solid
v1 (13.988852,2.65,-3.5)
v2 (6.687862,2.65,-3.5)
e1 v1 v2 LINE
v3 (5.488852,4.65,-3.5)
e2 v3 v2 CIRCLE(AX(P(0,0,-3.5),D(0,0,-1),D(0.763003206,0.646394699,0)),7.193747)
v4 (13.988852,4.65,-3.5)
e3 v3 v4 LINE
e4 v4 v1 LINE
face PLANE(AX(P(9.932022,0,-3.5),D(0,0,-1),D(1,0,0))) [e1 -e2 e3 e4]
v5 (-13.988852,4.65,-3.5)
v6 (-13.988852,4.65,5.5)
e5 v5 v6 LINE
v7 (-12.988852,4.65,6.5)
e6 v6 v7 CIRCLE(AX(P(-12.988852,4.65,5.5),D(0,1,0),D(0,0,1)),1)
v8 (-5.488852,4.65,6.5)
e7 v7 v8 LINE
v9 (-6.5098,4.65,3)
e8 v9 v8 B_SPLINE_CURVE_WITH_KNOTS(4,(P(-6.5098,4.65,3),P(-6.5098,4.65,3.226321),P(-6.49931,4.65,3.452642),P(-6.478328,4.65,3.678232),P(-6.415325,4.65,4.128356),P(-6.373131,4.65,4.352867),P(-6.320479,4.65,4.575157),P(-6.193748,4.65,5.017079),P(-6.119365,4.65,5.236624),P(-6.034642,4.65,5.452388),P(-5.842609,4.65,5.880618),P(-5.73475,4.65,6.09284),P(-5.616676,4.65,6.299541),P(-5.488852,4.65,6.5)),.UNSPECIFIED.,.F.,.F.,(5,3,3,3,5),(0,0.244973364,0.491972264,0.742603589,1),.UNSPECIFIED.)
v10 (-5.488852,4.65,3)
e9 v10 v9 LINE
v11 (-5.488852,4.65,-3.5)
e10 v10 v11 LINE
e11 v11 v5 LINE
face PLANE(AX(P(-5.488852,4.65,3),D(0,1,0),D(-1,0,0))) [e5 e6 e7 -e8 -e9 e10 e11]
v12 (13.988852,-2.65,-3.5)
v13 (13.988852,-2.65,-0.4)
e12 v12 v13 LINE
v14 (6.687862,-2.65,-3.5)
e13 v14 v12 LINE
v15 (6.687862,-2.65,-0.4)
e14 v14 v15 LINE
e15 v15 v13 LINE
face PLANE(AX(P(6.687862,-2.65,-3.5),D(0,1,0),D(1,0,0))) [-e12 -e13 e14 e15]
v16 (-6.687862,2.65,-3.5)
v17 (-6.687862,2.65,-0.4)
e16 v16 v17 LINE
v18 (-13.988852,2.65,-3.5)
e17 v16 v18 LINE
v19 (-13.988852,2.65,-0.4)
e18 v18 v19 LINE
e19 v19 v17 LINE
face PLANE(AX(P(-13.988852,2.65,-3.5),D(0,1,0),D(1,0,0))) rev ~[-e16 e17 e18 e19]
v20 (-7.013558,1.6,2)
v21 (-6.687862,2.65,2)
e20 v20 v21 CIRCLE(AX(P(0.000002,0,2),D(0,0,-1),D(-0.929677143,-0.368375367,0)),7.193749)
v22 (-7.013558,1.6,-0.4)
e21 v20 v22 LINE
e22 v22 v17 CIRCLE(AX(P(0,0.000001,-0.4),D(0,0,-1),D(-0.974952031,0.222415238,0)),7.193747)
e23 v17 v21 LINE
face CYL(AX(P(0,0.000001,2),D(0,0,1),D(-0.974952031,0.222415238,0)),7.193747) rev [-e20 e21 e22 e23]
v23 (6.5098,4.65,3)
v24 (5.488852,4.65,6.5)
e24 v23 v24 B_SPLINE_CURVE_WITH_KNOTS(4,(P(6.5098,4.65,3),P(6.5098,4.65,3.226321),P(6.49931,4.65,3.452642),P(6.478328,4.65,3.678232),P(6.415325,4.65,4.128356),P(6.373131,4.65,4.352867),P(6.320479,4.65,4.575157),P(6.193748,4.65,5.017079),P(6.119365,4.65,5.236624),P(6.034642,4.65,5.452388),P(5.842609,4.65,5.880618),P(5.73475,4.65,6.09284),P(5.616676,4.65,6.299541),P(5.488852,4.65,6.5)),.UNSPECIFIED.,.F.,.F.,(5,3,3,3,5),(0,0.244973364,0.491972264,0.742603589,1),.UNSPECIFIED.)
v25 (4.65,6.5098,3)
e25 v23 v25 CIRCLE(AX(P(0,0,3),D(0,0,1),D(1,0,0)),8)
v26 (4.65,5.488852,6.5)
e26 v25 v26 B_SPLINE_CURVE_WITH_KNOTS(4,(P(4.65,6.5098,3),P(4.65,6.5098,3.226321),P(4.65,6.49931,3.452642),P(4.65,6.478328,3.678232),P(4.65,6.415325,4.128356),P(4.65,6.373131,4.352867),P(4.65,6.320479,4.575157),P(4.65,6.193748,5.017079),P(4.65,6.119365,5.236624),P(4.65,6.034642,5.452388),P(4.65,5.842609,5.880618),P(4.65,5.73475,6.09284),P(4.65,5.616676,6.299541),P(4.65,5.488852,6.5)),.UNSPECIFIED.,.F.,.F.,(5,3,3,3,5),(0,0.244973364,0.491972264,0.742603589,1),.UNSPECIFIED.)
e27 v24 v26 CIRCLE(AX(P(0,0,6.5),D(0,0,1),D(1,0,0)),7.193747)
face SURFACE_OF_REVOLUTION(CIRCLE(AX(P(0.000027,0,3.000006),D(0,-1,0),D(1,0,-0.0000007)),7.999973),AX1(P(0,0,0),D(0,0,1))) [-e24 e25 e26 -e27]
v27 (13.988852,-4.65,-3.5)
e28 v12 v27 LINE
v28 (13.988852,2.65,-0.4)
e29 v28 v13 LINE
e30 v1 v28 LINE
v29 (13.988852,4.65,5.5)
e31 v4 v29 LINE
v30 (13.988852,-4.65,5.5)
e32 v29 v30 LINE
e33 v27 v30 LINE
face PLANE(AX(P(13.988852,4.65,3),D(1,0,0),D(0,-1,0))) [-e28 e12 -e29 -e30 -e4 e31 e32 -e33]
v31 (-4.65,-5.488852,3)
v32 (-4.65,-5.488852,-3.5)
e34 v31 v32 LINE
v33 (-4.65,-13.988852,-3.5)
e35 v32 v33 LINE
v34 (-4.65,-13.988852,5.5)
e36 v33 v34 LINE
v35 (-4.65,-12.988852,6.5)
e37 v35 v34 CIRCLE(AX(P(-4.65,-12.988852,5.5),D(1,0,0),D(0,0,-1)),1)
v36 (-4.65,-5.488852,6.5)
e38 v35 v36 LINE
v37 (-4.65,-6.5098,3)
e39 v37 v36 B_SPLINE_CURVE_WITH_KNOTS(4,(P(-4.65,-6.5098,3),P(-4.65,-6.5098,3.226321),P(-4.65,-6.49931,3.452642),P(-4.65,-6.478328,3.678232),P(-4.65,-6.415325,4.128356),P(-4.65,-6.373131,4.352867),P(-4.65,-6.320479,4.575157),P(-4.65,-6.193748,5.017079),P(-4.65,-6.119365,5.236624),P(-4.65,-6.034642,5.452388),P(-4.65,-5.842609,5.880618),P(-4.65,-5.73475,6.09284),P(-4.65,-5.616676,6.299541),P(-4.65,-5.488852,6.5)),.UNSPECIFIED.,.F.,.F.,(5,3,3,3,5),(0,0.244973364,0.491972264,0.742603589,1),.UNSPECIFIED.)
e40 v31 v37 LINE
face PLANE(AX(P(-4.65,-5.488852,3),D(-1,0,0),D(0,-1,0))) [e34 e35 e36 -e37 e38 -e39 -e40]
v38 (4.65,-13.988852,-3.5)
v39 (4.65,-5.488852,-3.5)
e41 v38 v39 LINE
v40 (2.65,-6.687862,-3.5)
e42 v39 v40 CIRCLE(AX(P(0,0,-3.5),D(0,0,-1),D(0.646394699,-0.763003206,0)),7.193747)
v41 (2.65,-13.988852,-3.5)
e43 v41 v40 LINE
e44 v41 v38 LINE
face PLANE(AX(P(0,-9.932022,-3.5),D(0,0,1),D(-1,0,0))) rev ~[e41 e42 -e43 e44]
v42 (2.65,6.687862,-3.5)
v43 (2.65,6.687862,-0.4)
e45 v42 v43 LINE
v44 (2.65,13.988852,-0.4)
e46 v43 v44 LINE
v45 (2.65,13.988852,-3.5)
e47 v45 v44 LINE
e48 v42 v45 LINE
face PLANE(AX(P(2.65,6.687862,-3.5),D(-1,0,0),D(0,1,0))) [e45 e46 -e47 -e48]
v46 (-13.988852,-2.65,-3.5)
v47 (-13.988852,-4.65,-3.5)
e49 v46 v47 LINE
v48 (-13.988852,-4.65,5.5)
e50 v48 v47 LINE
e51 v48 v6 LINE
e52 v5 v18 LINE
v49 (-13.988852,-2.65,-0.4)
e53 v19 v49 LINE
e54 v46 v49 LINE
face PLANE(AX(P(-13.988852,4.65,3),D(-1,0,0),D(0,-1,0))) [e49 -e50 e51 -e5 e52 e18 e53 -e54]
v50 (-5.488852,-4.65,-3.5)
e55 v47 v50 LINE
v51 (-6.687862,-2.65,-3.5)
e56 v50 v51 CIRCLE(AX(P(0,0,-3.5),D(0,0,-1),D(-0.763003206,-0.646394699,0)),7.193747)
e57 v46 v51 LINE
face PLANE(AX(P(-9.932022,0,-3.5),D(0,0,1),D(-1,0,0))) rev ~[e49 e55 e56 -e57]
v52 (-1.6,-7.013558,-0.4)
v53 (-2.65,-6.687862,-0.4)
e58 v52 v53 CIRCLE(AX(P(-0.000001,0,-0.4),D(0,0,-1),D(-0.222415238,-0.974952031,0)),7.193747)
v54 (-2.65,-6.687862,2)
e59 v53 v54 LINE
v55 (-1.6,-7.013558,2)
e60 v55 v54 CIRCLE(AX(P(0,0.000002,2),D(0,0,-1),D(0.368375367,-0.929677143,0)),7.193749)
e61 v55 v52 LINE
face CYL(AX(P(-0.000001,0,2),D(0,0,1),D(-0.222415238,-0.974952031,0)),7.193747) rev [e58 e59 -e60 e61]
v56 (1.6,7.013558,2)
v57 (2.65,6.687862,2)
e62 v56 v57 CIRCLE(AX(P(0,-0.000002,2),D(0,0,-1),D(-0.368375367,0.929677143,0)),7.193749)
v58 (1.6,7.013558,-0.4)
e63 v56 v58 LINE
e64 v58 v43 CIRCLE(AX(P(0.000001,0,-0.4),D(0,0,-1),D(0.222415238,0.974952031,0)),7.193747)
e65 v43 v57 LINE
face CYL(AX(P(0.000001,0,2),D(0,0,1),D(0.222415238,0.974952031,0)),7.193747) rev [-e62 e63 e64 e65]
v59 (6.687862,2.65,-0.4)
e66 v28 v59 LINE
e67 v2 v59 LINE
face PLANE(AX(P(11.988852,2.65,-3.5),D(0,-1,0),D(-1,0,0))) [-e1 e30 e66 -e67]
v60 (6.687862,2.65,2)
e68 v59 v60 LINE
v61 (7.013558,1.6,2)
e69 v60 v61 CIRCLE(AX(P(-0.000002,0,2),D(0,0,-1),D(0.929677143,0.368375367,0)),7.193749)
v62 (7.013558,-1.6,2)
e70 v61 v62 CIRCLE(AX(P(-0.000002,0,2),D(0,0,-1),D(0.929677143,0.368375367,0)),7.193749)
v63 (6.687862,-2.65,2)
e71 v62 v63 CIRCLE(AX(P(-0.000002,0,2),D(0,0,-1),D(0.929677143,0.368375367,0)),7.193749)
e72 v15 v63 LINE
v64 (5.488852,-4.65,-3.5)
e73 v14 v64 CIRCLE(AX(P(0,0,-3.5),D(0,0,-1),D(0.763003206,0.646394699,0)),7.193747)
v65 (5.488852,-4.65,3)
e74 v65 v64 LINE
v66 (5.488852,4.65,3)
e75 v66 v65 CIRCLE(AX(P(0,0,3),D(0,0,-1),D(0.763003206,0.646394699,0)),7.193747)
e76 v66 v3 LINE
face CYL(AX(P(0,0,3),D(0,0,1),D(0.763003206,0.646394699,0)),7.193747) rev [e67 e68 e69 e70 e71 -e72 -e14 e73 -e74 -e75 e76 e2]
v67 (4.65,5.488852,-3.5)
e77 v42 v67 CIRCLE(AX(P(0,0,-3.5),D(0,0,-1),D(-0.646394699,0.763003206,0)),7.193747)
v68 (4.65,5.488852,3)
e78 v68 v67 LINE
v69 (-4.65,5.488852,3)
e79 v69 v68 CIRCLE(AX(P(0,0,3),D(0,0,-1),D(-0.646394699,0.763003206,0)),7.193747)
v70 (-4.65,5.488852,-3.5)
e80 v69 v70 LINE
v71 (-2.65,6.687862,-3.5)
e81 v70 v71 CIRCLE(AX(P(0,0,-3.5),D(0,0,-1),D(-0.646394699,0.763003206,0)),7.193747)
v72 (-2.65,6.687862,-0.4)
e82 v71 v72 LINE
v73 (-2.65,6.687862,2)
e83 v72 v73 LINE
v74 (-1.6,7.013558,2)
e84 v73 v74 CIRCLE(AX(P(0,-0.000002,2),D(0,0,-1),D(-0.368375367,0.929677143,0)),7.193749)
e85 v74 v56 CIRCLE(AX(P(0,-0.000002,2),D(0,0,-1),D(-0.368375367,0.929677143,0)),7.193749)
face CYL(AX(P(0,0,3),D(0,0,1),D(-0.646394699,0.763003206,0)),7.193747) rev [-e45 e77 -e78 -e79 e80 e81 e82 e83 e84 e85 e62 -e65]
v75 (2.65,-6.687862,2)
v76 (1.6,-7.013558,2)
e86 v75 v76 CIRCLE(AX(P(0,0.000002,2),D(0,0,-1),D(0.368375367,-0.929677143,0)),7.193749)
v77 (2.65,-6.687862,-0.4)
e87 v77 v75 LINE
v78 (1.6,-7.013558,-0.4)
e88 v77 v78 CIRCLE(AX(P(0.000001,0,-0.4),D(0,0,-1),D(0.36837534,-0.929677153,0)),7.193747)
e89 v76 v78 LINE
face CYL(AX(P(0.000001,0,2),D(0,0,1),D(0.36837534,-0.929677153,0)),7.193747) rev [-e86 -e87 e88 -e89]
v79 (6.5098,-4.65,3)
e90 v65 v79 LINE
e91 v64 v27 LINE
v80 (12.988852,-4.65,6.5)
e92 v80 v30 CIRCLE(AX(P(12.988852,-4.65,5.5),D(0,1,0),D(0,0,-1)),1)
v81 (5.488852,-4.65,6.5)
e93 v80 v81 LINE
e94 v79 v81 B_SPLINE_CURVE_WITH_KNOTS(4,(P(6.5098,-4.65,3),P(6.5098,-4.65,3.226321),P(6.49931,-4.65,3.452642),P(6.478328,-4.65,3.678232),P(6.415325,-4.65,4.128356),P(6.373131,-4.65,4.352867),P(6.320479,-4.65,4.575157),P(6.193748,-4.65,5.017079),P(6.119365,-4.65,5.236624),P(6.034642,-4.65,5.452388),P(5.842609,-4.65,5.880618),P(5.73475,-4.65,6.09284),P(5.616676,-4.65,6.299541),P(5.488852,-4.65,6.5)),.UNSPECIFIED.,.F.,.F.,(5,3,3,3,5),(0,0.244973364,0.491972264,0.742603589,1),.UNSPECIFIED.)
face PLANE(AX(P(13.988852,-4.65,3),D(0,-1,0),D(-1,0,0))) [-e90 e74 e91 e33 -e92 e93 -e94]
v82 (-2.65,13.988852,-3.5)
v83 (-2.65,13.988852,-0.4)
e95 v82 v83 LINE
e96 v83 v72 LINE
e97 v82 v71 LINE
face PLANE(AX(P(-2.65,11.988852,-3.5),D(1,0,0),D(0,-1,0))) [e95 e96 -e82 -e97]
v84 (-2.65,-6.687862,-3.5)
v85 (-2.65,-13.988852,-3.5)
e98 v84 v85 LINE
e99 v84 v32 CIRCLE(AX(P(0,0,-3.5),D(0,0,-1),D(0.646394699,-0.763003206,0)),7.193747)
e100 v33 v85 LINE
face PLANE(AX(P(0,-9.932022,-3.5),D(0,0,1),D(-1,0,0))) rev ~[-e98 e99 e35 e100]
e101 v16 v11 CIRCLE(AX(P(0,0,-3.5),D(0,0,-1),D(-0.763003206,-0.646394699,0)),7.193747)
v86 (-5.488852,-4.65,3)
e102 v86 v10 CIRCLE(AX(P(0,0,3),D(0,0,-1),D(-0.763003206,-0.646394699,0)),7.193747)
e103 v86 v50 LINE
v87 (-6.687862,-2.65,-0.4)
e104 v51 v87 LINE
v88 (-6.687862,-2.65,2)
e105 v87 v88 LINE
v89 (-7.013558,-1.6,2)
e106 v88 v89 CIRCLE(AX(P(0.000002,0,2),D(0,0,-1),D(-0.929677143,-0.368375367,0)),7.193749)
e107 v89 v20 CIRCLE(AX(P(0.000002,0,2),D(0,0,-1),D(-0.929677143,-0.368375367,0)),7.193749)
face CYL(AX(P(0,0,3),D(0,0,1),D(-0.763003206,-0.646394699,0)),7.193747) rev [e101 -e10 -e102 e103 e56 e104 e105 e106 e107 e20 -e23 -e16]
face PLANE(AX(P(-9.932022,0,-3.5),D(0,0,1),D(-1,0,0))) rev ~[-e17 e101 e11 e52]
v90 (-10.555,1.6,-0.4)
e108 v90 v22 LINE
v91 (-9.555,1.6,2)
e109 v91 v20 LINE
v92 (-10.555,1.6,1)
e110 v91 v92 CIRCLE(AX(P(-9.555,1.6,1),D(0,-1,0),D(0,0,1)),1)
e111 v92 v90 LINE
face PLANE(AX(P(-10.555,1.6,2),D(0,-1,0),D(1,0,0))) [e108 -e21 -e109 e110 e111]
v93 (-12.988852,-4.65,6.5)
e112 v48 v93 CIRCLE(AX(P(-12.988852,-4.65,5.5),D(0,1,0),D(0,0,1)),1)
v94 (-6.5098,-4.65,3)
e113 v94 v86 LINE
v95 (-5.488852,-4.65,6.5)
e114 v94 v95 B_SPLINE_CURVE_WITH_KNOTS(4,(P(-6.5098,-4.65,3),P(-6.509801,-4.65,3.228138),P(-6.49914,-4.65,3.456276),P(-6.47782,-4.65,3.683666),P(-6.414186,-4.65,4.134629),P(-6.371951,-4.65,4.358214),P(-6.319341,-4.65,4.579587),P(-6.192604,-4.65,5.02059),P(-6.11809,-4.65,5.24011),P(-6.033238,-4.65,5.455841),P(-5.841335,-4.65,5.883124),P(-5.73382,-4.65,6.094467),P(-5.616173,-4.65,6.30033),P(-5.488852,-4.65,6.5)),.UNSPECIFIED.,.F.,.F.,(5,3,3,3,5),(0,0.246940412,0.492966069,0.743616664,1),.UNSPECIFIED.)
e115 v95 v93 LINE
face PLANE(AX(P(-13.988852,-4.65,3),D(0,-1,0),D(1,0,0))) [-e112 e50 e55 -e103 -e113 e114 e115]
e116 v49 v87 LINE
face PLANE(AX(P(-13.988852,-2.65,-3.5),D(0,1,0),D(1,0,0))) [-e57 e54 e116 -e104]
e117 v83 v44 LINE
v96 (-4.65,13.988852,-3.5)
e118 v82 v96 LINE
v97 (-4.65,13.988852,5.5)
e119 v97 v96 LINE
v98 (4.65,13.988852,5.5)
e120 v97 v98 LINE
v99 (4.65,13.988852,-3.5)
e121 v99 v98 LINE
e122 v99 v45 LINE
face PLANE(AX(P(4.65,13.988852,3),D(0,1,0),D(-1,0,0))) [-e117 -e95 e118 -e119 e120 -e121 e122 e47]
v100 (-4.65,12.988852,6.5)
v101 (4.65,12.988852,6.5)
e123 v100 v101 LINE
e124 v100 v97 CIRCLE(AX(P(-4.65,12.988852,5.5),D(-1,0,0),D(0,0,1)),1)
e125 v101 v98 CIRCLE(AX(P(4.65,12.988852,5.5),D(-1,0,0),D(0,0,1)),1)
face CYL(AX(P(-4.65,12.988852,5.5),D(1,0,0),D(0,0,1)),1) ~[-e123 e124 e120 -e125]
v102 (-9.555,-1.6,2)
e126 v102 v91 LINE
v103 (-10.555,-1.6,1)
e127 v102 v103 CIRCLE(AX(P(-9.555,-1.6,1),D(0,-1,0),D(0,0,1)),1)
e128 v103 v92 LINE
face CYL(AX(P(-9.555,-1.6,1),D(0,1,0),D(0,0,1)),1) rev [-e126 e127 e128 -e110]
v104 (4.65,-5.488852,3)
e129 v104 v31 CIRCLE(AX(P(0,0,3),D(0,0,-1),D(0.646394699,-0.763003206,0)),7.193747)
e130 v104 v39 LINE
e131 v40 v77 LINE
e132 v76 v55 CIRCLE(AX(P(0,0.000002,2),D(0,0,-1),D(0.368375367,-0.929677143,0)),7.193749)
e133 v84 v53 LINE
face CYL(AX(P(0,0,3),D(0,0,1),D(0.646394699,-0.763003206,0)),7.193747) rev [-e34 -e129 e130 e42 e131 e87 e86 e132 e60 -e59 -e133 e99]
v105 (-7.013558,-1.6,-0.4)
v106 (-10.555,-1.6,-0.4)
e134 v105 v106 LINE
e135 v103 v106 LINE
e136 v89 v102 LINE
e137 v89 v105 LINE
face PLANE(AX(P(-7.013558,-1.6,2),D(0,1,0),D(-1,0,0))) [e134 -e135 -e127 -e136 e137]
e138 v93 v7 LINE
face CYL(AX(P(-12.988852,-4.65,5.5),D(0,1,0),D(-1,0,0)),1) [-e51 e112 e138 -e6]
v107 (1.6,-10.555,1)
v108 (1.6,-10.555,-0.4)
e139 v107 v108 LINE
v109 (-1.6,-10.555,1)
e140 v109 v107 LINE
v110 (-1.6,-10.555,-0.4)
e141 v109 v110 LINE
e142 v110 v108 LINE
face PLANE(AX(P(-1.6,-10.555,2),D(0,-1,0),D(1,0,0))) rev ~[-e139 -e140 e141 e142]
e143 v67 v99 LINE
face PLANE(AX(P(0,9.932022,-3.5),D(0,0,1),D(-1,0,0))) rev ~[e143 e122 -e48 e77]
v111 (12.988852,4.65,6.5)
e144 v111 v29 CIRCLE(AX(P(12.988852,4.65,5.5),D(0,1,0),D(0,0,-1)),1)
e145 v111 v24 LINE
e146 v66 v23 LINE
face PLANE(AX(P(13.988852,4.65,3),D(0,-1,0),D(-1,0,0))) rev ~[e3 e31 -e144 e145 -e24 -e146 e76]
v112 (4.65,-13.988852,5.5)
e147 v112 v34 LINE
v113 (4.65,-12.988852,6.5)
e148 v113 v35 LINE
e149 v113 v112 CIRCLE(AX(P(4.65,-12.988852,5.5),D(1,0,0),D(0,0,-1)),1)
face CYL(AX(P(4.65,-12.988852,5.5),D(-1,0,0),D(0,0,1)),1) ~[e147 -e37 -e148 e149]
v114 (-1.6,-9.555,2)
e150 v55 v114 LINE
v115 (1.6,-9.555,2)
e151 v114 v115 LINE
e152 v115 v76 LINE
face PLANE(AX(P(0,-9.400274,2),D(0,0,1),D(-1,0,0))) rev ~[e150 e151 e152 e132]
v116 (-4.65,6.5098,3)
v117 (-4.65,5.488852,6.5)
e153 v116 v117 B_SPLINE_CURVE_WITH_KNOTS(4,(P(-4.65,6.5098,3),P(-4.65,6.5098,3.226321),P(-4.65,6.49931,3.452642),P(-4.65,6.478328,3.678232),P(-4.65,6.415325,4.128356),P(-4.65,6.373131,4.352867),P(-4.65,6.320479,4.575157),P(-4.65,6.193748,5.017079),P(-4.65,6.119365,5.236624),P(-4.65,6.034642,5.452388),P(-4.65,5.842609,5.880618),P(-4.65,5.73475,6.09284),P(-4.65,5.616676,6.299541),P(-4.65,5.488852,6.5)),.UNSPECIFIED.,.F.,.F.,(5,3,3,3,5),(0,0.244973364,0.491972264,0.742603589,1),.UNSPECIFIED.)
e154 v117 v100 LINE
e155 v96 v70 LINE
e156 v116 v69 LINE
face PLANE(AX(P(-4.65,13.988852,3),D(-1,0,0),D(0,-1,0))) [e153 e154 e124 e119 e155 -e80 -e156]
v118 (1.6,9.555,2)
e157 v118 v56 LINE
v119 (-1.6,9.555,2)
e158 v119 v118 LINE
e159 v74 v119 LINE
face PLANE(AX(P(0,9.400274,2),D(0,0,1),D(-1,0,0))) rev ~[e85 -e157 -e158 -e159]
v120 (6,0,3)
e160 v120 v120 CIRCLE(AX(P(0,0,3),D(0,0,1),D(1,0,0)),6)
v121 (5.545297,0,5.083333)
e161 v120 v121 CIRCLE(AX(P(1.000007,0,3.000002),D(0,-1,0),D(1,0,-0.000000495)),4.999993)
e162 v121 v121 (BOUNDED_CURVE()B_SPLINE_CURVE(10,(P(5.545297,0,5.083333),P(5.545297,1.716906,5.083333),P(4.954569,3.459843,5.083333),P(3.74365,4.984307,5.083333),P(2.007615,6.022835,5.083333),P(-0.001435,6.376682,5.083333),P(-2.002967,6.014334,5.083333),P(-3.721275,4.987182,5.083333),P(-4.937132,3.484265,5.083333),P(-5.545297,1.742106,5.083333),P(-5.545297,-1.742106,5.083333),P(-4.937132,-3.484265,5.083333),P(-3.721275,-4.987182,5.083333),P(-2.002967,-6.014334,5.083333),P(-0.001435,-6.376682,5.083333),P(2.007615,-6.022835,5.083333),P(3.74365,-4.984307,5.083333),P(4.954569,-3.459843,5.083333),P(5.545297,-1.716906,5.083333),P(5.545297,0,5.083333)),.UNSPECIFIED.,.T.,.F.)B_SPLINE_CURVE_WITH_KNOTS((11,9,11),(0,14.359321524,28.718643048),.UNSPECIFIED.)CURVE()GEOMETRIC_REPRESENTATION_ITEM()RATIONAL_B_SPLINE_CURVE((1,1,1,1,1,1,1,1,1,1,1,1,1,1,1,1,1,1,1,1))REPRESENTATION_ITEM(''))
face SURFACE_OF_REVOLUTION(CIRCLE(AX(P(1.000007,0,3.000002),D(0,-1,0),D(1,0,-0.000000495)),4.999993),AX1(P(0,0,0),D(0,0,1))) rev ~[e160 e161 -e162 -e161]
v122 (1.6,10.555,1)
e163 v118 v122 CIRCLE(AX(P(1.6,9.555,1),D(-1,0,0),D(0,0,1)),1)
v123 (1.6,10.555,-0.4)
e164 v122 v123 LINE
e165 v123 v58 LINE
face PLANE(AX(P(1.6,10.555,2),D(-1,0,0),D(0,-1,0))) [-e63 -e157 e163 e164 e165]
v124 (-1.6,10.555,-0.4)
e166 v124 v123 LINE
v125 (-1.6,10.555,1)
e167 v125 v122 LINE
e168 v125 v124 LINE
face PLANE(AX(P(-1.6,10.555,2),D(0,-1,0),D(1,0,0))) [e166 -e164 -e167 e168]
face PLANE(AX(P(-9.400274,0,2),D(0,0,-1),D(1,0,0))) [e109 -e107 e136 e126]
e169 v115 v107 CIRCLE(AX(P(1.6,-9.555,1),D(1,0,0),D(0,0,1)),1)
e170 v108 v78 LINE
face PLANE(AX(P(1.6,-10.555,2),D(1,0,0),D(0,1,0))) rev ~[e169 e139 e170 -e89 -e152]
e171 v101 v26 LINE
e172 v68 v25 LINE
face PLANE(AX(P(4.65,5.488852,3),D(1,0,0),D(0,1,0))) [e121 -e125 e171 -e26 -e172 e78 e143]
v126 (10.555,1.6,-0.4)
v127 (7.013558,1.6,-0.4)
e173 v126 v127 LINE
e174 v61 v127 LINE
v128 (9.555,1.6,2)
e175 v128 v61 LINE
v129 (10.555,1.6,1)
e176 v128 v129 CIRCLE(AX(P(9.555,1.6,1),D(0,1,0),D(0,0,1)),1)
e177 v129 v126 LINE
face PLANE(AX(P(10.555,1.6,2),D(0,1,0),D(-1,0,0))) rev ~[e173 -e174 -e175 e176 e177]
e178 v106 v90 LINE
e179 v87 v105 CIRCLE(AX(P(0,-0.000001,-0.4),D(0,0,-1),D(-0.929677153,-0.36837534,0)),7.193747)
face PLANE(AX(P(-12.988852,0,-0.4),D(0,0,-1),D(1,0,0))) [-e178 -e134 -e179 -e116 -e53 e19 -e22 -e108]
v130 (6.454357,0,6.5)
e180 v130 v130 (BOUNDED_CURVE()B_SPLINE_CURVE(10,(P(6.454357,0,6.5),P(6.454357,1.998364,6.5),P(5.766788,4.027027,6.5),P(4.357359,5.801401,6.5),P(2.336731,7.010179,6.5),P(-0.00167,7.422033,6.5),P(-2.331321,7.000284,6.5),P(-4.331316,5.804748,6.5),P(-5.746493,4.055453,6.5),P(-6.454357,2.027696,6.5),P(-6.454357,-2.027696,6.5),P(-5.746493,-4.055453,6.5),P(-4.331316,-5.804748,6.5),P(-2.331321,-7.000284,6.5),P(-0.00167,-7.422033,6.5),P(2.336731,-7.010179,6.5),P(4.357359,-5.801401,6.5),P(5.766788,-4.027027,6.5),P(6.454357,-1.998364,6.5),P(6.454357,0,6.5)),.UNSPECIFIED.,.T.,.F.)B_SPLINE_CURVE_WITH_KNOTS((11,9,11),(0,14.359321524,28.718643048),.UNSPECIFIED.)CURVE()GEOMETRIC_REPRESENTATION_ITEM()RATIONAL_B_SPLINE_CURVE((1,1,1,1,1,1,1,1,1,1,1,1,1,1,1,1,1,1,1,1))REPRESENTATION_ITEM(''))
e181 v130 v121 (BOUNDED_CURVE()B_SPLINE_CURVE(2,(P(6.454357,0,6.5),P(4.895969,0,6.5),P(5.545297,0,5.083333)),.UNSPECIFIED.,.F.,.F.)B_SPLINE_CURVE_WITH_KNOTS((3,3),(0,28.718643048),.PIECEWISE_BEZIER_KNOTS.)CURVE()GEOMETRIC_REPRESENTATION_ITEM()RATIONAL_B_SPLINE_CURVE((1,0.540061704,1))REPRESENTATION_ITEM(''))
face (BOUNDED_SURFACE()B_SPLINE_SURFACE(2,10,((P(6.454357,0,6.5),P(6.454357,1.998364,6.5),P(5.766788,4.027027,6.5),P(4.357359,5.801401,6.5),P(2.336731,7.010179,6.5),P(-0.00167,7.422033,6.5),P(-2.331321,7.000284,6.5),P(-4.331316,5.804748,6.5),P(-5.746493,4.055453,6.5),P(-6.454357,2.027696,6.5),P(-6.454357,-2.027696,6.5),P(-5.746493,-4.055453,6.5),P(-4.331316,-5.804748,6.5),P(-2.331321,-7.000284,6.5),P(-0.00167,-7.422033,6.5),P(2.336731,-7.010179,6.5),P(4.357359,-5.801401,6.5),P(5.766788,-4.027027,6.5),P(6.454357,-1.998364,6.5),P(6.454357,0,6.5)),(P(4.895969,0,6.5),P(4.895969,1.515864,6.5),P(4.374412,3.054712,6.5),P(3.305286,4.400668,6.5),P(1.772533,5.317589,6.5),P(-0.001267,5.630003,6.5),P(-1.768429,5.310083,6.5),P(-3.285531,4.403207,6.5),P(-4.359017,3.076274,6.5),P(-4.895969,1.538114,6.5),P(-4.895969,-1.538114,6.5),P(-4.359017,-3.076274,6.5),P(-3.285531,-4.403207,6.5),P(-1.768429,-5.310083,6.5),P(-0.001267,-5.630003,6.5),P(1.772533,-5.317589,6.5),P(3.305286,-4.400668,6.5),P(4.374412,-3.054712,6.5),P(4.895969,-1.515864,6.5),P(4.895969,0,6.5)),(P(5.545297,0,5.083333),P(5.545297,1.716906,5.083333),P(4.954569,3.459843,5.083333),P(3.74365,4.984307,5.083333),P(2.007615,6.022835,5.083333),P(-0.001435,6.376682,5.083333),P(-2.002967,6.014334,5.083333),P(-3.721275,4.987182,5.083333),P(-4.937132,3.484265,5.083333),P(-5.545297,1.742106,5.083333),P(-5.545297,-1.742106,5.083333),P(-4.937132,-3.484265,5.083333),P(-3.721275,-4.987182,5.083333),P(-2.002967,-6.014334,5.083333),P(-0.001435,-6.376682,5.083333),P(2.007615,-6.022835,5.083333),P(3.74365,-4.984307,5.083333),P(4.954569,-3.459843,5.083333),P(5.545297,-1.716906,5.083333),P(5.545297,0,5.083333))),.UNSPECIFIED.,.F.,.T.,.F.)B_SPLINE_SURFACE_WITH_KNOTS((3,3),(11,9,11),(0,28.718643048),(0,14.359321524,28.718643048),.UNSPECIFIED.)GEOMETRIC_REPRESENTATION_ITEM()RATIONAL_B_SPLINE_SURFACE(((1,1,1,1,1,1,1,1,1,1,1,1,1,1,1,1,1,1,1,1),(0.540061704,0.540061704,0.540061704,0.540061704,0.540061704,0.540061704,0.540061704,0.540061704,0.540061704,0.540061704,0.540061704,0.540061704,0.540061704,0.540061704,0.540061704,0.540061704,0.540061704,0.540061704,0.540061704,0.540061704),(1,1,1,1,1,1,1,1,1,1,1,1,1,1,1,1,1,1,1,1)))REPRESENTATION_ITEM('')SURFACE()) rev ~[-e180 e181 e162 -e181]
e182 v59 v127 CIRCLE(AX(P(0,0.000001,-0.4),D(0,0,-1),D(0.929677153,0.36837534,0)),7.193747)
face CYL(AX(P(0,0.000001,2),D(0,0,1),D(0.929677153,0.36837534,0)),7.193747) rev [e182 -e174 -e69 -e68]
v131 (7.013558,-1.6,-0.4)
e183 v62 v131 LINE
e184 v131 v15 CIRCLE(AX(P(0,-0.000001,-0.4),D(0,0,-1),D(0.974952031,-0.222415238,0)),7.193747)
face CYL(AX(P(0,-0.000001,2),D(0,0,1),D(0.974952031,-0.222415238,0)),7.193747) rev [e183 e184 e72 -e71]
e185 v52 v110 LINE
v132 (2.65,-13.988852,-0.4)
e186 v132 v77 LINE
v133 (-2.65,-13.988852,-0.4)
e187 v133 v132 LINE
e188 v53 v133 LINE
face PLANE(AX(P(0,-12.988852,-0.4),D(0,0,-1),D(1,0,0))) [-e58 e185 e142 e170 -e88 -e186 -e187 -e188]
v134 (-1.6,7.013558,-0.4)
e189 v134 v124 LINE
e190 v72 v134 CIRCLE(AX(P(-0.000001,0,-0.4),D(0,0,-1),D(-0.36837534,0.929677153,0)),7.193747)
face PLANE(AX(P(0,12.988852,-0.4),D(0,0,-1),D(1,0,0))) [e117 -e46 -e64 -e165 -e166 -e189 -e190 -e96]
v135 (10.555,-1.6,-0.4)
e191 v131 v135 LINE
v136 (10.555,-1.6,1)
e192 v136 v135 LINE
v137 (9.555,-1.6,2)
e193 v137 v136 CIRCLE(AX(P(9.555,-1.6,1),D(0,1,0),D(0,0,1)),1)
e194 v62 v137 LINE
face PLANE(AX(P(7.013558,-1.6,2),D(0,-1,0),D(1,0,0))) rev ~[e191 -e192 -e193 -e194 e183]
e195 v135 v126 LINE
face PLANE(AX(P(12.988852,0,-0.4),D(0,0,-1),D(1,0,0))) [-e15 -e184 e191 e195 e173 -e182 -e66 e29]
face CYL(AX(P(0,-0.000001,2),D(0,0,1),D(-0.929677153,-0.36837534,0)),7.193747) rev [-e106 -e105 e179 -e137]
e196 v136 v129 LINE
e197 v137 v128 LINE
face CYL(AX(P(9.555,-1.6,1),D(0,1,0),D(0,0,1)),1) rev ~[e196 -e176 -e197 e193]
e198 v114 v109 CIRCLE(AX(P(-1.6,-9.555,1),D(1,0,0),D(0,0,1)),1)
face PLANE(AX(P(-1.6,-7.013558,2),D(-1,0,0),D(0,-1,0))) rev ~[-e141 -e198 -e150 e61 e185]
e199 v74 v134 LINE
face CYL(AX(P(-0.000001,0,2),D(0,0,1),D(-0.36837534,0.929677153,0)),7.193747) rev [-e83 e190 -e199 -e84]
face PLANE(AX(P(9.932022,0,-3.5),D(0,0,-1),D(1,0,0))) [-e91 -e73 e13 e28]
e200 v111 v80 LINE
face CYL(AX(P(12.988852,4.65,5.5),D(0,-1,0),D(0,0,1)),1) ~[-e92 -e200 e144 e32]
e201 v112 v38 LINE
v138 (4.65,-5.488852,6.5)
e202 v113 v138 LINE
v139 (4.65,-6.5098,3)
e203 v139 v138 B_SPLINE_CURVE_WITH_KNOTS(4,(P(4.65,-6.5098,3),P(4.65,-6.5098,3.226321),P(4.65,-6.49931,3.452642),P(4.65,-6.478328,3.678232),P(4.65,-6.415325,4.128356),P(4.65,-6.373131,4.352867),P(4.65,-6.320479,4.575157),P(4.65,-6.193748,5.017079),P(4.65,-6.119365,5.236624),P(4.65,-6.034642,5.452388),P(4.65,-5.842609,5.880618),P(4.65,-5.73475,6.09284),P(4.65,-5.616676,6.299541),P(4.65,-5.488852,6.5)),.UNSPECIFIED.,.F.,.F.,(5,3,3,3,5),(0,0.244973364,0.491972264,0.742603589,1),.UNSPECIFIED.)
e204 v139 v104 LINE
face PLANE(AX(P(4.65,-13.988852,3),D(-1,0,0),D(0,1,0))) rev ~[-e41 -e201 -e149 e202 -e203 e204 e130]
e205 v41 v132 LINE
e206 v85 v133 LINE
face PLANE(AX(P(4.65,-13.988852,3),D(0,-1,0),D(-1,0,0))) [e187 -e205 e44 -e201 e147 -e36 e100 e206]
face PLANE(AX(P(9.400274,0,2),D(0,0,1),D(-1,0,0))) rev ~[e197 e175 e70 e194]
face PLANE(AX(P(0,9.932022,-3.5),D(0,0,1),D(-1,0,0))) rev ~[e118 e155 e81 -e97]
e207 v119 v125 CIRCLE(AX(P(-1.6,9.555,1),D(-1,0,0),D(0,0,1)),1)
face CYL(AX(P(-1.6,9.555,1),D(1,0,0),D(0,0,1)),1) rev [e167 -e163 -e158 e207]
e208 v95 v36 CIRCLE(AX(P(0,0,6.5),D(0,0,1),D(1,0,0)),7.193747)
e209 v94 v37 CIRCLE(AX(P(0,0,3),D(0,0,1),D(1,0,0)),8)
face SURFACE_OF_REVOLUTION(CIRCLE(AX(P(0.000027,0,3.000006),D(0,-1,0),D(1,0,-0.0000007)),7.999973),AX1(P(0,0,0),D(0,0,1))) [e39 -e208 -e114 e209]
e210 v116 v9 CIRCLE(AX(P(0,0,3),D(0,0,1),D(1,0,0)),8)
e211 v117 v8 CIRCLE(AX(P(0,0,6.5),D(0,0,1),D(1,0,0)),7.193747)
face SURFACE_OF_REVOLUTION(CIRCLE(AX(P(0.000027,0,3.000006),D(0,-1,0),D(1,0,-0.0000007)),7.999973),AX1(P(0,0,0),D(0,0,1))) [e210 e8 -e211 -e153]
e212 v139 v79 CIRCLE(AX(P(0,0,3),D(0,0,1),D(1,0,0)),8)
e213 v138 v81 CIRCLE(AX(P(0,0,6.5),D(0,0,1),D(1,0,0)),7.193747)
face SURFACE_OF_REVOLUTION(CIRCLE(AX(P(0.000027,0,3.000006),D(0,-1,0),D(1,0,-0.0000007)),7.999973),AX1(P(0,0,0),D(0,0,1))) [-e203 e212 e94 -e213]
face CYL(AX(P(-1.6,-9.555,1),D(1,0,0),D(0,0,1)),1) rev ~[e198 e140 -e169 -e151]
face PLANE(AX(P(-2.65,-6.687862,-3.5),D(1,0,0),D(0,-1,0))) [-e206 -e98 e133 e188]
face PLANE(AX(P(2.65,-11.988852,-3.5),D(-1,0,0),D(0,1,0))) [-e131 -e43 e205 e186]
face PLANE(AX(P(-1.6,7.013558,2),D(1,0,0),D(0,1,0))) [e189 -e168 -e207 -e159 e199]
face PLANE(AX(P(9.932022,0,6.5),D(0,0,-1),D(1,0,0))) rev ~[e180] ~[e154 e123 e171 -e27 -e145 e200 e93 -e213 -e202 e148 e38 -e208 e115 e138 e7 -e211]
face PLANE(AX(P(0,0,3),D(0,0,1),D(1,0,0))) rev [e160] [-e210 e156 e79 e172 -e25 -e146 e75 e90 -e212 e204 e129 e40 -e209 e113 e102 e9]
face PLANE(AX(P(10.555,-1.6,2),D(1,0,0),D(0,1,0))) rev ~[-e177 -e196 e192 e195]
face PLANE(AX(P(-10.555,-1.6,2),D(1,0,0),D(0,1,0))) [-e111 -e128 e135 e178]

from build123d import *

# Parameters (mm, degrees)
PAD001_DEPTH    = 6.5
POCKET003_DEPTH = 5.5
PAD002_DEPTH    = 3.5
FILLET007_R     = 1
PAD009_DEPTH    = 2.4
FILLET_R        = 1
FILLET009_R     = 1
SKETCH025_W     = 5.3
SKETCH025_H     = 2
SKETCH025_W_2   = 2
SKETCH025_H_2   = 5.3
POCKET005_DEPTH = 3.1


with BuildPart() as part:
    # Sketch003 → Revolution001 (revolve)
    with BuildSketch(Plane.XZ):
        with BuildLine():
            Line((6, 3), (8, 3))
            ThreePointArc((8, 3), (7.795832, 4.795832), (7.193747, 6.5))
            Line((7.193747, 6.5), (4.570714, 6.5))
            ThreePointArc((6, 3), (5.628908, 4.890295), (4.570714, 6.5))
        make_face()
    revolve(axis=Axis((0, 0, 0), (0, 0, 1)))

    # Sketch004 (on Face1 of Revolution001) → Pad001 (new body)
    with BuildSketch(Plane(origin=(0, 0, 3), x_dir=(1, 0, 0), z_dir=(0, 0, -1))):
        with BuildLine():
            Line((4.65, -5.488852), (4.65, -13.988852))
            Line((4.65, -13.988852), (-4.65, -13.988852))
            Line((-4.65, -13.988852), (-4.65, -5.488852))
            ThreePointArc((-4.65, -5.488852), (0, -7.193747), (4.65, -5.488852))
        make_face()
        with BuildLine():
            Line((-5.488852, -4.65), (-13.988852, -4.65))
            Line((-13.988852, -4.65), (-13.988852, 4.65))
            Line((-13.988852, 4.65), (-5.488852, 4.65))
            ThreePointArc((-5.488852, 4.65), (-7.193747, 0), (-5.488852, -4.65))
        make_face()
        with BuildLine():
            Line((13.988852, -4.65), (13.988852, 4.65))
            Line((5.488852, 4.65), (13.988852, 4.65))
            ThreePointArc((5.488852, -4.65), (7.193747, 0), (5.488852, 4.65))
            Line((5.488852, -4.65), (13.988852, -4.65))
        make_face()
        with BuildLine():
            Line((-4.65, 5.488852), (-4.65, 13.988852))
            Line((-4.65, 13.988852), (4.65, 13.988852))
            Line((4.65, 13.988852), (4.65, 5.488852))
            ThreePointArc((4.65, 5.488852), (0, 7.193747), (-4.65, 5.488852))
        make_face()
    extrude(amount=PAD001_DEPTH)

    # Sketch018 (on Face24 of Pad001) → Pocket003 (cut)
    with BuildSketch(Plane(origin=(0, 0, -3.5), x_dir=(1, 0, 0), z_dir=(0, 0, -1))):
        with BuildLine():
            Line((-6.687862, 2.65), (-11.988852, 2.65))
            Line((-11.988852, 2.65), (-11.988852, -2.65))
            Line((-11.988852, -2.65), (-6.687862, -2.65))
            ThreePointArc((-6.687862, 2.65), (-7.193747, 0), (-6.687862, -2.65))
        make_face()
        with BuildLine():
            Line((-2.65, 6.687862), (-2.65, 11.988852))
            Line((-2.65, 11.988852), (2.65, 11.988852))
            Line((2.65, 11.988852), (2.65, 6.687862))
            ThreePointArc((2.65, 6.687862), (0, 7.193747), (-2.65, 6.687862))
        make_face()
        with BuildLine():
            Line((6.687862, 2.65), (11.988852, 2.65))
            Line((11.988852, 2.65), (11.988852, -2.65))
            Line((11.988852, -2.65), (6.687862, -2.65))
            ThreePointArc((6.687862, -2.65), (7.193747, 0), (6.687862, 2.65))
        make_face()
        with BuildLine():
            Line((2.65, -6.687862), (2.65, -11.988852))
            Line((2.65, -11.988852), (-2.65, -11.988852))
            Line((-2.65, -11.988852), (-2.65, -6.687862))
            ThreePointArc((-2.65, -6.687862), (0, -7.193747), (2.65, -6.687862))
        make_face()
    extrude(amount=-POCKET003_DEPTH, mode=Mode.SUBTRACT)

    # Sketch006 (on Face19 of Pocket003) → Pad002 (join)
    with BuildSketch(Plane(origin=(0, 0, 3), x_dir=(-1, 0, 0), z_dir=(0, 0, 1))):
        with BuildLine():
            Line((-13.988852, 4.65), (-5.488852, 4.65))
            ThreePointArc((-5.488852, 4.65), (-7.193747, 0), (-5.488852, -4.65))
            Line((-13.988852, -4.65), (-5.488852, -4.65))
            Line((-13.988852, -4.65), (-13.988852, 4.65))
        make_face()
        with BuildLine():
            Line((-4.65, 13.988852), (-4.65, 5.488852))
            ThreePointArc((4.65, 5.488852), (0, 7.193747), (-4.65, 5.488852))
            Line((4.65, 13.988852), (4.65, 5.488852))
            Line((-4.65, 13.988852), (4.65, 13.988852))
        make_face()
        with BuildLine():
            Line((5.488852, 4.65), (13.988852, 4.65))
            Line((13.988852, 4.65), (13.988852, -4.65))
            Line((13.988852, -4.65), (5.488852, -4.65))
            ThreePointArc((5.488852, -4.65), (7.193747, 0), (5.488852, 4.65))
        make_face()
        with BuildLine():
            Line((4.65, -5.488852), (4.65, -13.988852))
            Line((4.65, -13.988852), (-4.65, -13.988852))
            Line((-4.65, -13.988852), (-4.65, -5.488852))
            ThreePointArc((-4.65, -5.488852), (0, -7.193747), (4.65, -5.488852))
        make_face()
    extrude(amount=PAD002_DEPTH)

    # Fillet007
    fillet007_edges = [part.edges().sort_by_distance(p)[0] for p in [
        (-4.570714, 0, 6.5),
    ]]
    fillet(fillet007_edges, radius=FILLET007_R)

    # Sketch019 (on Face32 of Pad002) → Pad009 (join)
    with BuildSketch(Plane(origin=(0, 0, 2), x_dir=(1, 0, 0), z_dir=(0, 0, -1))):
        with BuildLine():
            Line((-11.988852, 2.65), (-6.687862, 2.65))
            ThreePointArc((-6.687862, 2.65), (-6.870797, 2.131231), (-7.013558, 1.6))
            Line((-7.013558, 1.6), (-10.555, 1.6))
            Line((-10.555, 1.6), (-10.555, -1.6))
            Line((-10.555, -1.6), (-7.013558, -1.6))
            ThreePointArc((-7.013558, -1.6), (-6.870797, -2.131231), (-6.687862, -2.65))
            Line((-11.988852, -2.65), (-6.687862, -2.65))
            Line((-11.988852, 2.65), (-11.988852, -2.65))
        make_face()
        with BuildLine():
            Line((-2.65, 6.687862), (-2.65, 11.988852))
            Line((-2.65, 11.988852), (2.65, 11.988852))
            Line((2.65, 11.988852), (2.65, 6.687862))
            ThreePointArc((2.65, 6.687862), (2.131231, 6.870797), (1.6, 7.013558))
            Line((1.6, 10.555), (1.6, 7.013558))
            Line((-1.6, 10.555), (1.6, 10.555))
            Line((-1.6, 7.013558), (-1.6, 10.555))
            ThreePointArc((-1.6, 7.013558), (-2.131231, 6.870797), (-2.65, 6.687862))
        make_face()
        with BuildLine():
            Line((6.687862, 2.65), (11.988852, 2.65))
            Line((11.988852, 2.65), (11.988852, -2.65))
            Line((11.988852, -2.65), (6.687862, -2.65))
            ThreePointArc((6.687862, -2.65), (6.870797, -2.131231), (7.013558, -1.6))
            Line((10.555, -1.6), (7.013558, -1.6))
            Line((10.555, 1.6), (10.555, -1.6))
            Line((7.013558, 1.6), (10.555, 1.6))
            ThreePointArc((7.013558, 1.6), (6.870797, 2.131231), (6.687862, 2.65))
        make_face()
        with BuildLine():
            Line((2.65, -11.988852), (-2.65, -11.988852))
            Line((-2.65, -11.988852), (-2.65, -6.687862))
            ThreePointArc((-2.65, -6.687862), (-2.131231, -6.870797), (-1.6, -7.013558))
            Line((-1.6, -7.013558), (-1.6, -10.555))
            Line((-1.6, -10.555), (1.6, -10.555))
            Line((1.6, -10.555), (1.6, -7.013558))
            ThreePointArc((1.6, -7.013558), (2.131231, -6.870797), (2.65, -6.687862))
            Line((2.65, -6.687862), (2.65, -11.988852))
        make_face()
    extrude(amount=PAD009_DEPTH)

    # Fillet
    fillet_edges = [part.edges().sort_by_distance(p)[0] for p in [
        (10.555, 0, 2),
        (0, -10.555, 2),
        (-10.555, 0, 2),
        (0, 10.555, 2),
    ]]
    fillet(fillet_edges, radius=FILLET_R)

    # Fillet009
    fillet009_edges = [part.edges().sort_by_distance(p)[0] for p in [
        (13.988852, 0, 6.5),
        (0, 13.988852, 6.5),
        (-13.988852, 0, 6.5),
        (0, -13.988852, 6.5),
    ]]
    fillet(fillet009_edges, radius=FILLET009_R)

    # Sketch025 (on Face48 of Fillet009) → Pocket005 (cut)
    with BuildSketch(Plane(origin=(0, 0, -3.5), x_dir=(1, 0, 0), z_dir=(0, 0, -1))):
        with Locations((0, -12.988852)):
            Rectangle(SKETCH025_W, SKETCH025_H)
        with Locations((12.988852, 0)):
            Rectangle(SKETCH025_W_2, SKETCH025_H_2)
        with Locations((0, 12.988852)):
            Rectangle(SKETCH025_W, SKETCH025_H)
        with Locations((-12.988852, 0)):
            Rectangle(SKETCH025_W_2, SKETCH025_H_2)
    extrude(amount=-POCKET005_DEPTH, mode=Mode.SUBTRACT)


solid = part.part
